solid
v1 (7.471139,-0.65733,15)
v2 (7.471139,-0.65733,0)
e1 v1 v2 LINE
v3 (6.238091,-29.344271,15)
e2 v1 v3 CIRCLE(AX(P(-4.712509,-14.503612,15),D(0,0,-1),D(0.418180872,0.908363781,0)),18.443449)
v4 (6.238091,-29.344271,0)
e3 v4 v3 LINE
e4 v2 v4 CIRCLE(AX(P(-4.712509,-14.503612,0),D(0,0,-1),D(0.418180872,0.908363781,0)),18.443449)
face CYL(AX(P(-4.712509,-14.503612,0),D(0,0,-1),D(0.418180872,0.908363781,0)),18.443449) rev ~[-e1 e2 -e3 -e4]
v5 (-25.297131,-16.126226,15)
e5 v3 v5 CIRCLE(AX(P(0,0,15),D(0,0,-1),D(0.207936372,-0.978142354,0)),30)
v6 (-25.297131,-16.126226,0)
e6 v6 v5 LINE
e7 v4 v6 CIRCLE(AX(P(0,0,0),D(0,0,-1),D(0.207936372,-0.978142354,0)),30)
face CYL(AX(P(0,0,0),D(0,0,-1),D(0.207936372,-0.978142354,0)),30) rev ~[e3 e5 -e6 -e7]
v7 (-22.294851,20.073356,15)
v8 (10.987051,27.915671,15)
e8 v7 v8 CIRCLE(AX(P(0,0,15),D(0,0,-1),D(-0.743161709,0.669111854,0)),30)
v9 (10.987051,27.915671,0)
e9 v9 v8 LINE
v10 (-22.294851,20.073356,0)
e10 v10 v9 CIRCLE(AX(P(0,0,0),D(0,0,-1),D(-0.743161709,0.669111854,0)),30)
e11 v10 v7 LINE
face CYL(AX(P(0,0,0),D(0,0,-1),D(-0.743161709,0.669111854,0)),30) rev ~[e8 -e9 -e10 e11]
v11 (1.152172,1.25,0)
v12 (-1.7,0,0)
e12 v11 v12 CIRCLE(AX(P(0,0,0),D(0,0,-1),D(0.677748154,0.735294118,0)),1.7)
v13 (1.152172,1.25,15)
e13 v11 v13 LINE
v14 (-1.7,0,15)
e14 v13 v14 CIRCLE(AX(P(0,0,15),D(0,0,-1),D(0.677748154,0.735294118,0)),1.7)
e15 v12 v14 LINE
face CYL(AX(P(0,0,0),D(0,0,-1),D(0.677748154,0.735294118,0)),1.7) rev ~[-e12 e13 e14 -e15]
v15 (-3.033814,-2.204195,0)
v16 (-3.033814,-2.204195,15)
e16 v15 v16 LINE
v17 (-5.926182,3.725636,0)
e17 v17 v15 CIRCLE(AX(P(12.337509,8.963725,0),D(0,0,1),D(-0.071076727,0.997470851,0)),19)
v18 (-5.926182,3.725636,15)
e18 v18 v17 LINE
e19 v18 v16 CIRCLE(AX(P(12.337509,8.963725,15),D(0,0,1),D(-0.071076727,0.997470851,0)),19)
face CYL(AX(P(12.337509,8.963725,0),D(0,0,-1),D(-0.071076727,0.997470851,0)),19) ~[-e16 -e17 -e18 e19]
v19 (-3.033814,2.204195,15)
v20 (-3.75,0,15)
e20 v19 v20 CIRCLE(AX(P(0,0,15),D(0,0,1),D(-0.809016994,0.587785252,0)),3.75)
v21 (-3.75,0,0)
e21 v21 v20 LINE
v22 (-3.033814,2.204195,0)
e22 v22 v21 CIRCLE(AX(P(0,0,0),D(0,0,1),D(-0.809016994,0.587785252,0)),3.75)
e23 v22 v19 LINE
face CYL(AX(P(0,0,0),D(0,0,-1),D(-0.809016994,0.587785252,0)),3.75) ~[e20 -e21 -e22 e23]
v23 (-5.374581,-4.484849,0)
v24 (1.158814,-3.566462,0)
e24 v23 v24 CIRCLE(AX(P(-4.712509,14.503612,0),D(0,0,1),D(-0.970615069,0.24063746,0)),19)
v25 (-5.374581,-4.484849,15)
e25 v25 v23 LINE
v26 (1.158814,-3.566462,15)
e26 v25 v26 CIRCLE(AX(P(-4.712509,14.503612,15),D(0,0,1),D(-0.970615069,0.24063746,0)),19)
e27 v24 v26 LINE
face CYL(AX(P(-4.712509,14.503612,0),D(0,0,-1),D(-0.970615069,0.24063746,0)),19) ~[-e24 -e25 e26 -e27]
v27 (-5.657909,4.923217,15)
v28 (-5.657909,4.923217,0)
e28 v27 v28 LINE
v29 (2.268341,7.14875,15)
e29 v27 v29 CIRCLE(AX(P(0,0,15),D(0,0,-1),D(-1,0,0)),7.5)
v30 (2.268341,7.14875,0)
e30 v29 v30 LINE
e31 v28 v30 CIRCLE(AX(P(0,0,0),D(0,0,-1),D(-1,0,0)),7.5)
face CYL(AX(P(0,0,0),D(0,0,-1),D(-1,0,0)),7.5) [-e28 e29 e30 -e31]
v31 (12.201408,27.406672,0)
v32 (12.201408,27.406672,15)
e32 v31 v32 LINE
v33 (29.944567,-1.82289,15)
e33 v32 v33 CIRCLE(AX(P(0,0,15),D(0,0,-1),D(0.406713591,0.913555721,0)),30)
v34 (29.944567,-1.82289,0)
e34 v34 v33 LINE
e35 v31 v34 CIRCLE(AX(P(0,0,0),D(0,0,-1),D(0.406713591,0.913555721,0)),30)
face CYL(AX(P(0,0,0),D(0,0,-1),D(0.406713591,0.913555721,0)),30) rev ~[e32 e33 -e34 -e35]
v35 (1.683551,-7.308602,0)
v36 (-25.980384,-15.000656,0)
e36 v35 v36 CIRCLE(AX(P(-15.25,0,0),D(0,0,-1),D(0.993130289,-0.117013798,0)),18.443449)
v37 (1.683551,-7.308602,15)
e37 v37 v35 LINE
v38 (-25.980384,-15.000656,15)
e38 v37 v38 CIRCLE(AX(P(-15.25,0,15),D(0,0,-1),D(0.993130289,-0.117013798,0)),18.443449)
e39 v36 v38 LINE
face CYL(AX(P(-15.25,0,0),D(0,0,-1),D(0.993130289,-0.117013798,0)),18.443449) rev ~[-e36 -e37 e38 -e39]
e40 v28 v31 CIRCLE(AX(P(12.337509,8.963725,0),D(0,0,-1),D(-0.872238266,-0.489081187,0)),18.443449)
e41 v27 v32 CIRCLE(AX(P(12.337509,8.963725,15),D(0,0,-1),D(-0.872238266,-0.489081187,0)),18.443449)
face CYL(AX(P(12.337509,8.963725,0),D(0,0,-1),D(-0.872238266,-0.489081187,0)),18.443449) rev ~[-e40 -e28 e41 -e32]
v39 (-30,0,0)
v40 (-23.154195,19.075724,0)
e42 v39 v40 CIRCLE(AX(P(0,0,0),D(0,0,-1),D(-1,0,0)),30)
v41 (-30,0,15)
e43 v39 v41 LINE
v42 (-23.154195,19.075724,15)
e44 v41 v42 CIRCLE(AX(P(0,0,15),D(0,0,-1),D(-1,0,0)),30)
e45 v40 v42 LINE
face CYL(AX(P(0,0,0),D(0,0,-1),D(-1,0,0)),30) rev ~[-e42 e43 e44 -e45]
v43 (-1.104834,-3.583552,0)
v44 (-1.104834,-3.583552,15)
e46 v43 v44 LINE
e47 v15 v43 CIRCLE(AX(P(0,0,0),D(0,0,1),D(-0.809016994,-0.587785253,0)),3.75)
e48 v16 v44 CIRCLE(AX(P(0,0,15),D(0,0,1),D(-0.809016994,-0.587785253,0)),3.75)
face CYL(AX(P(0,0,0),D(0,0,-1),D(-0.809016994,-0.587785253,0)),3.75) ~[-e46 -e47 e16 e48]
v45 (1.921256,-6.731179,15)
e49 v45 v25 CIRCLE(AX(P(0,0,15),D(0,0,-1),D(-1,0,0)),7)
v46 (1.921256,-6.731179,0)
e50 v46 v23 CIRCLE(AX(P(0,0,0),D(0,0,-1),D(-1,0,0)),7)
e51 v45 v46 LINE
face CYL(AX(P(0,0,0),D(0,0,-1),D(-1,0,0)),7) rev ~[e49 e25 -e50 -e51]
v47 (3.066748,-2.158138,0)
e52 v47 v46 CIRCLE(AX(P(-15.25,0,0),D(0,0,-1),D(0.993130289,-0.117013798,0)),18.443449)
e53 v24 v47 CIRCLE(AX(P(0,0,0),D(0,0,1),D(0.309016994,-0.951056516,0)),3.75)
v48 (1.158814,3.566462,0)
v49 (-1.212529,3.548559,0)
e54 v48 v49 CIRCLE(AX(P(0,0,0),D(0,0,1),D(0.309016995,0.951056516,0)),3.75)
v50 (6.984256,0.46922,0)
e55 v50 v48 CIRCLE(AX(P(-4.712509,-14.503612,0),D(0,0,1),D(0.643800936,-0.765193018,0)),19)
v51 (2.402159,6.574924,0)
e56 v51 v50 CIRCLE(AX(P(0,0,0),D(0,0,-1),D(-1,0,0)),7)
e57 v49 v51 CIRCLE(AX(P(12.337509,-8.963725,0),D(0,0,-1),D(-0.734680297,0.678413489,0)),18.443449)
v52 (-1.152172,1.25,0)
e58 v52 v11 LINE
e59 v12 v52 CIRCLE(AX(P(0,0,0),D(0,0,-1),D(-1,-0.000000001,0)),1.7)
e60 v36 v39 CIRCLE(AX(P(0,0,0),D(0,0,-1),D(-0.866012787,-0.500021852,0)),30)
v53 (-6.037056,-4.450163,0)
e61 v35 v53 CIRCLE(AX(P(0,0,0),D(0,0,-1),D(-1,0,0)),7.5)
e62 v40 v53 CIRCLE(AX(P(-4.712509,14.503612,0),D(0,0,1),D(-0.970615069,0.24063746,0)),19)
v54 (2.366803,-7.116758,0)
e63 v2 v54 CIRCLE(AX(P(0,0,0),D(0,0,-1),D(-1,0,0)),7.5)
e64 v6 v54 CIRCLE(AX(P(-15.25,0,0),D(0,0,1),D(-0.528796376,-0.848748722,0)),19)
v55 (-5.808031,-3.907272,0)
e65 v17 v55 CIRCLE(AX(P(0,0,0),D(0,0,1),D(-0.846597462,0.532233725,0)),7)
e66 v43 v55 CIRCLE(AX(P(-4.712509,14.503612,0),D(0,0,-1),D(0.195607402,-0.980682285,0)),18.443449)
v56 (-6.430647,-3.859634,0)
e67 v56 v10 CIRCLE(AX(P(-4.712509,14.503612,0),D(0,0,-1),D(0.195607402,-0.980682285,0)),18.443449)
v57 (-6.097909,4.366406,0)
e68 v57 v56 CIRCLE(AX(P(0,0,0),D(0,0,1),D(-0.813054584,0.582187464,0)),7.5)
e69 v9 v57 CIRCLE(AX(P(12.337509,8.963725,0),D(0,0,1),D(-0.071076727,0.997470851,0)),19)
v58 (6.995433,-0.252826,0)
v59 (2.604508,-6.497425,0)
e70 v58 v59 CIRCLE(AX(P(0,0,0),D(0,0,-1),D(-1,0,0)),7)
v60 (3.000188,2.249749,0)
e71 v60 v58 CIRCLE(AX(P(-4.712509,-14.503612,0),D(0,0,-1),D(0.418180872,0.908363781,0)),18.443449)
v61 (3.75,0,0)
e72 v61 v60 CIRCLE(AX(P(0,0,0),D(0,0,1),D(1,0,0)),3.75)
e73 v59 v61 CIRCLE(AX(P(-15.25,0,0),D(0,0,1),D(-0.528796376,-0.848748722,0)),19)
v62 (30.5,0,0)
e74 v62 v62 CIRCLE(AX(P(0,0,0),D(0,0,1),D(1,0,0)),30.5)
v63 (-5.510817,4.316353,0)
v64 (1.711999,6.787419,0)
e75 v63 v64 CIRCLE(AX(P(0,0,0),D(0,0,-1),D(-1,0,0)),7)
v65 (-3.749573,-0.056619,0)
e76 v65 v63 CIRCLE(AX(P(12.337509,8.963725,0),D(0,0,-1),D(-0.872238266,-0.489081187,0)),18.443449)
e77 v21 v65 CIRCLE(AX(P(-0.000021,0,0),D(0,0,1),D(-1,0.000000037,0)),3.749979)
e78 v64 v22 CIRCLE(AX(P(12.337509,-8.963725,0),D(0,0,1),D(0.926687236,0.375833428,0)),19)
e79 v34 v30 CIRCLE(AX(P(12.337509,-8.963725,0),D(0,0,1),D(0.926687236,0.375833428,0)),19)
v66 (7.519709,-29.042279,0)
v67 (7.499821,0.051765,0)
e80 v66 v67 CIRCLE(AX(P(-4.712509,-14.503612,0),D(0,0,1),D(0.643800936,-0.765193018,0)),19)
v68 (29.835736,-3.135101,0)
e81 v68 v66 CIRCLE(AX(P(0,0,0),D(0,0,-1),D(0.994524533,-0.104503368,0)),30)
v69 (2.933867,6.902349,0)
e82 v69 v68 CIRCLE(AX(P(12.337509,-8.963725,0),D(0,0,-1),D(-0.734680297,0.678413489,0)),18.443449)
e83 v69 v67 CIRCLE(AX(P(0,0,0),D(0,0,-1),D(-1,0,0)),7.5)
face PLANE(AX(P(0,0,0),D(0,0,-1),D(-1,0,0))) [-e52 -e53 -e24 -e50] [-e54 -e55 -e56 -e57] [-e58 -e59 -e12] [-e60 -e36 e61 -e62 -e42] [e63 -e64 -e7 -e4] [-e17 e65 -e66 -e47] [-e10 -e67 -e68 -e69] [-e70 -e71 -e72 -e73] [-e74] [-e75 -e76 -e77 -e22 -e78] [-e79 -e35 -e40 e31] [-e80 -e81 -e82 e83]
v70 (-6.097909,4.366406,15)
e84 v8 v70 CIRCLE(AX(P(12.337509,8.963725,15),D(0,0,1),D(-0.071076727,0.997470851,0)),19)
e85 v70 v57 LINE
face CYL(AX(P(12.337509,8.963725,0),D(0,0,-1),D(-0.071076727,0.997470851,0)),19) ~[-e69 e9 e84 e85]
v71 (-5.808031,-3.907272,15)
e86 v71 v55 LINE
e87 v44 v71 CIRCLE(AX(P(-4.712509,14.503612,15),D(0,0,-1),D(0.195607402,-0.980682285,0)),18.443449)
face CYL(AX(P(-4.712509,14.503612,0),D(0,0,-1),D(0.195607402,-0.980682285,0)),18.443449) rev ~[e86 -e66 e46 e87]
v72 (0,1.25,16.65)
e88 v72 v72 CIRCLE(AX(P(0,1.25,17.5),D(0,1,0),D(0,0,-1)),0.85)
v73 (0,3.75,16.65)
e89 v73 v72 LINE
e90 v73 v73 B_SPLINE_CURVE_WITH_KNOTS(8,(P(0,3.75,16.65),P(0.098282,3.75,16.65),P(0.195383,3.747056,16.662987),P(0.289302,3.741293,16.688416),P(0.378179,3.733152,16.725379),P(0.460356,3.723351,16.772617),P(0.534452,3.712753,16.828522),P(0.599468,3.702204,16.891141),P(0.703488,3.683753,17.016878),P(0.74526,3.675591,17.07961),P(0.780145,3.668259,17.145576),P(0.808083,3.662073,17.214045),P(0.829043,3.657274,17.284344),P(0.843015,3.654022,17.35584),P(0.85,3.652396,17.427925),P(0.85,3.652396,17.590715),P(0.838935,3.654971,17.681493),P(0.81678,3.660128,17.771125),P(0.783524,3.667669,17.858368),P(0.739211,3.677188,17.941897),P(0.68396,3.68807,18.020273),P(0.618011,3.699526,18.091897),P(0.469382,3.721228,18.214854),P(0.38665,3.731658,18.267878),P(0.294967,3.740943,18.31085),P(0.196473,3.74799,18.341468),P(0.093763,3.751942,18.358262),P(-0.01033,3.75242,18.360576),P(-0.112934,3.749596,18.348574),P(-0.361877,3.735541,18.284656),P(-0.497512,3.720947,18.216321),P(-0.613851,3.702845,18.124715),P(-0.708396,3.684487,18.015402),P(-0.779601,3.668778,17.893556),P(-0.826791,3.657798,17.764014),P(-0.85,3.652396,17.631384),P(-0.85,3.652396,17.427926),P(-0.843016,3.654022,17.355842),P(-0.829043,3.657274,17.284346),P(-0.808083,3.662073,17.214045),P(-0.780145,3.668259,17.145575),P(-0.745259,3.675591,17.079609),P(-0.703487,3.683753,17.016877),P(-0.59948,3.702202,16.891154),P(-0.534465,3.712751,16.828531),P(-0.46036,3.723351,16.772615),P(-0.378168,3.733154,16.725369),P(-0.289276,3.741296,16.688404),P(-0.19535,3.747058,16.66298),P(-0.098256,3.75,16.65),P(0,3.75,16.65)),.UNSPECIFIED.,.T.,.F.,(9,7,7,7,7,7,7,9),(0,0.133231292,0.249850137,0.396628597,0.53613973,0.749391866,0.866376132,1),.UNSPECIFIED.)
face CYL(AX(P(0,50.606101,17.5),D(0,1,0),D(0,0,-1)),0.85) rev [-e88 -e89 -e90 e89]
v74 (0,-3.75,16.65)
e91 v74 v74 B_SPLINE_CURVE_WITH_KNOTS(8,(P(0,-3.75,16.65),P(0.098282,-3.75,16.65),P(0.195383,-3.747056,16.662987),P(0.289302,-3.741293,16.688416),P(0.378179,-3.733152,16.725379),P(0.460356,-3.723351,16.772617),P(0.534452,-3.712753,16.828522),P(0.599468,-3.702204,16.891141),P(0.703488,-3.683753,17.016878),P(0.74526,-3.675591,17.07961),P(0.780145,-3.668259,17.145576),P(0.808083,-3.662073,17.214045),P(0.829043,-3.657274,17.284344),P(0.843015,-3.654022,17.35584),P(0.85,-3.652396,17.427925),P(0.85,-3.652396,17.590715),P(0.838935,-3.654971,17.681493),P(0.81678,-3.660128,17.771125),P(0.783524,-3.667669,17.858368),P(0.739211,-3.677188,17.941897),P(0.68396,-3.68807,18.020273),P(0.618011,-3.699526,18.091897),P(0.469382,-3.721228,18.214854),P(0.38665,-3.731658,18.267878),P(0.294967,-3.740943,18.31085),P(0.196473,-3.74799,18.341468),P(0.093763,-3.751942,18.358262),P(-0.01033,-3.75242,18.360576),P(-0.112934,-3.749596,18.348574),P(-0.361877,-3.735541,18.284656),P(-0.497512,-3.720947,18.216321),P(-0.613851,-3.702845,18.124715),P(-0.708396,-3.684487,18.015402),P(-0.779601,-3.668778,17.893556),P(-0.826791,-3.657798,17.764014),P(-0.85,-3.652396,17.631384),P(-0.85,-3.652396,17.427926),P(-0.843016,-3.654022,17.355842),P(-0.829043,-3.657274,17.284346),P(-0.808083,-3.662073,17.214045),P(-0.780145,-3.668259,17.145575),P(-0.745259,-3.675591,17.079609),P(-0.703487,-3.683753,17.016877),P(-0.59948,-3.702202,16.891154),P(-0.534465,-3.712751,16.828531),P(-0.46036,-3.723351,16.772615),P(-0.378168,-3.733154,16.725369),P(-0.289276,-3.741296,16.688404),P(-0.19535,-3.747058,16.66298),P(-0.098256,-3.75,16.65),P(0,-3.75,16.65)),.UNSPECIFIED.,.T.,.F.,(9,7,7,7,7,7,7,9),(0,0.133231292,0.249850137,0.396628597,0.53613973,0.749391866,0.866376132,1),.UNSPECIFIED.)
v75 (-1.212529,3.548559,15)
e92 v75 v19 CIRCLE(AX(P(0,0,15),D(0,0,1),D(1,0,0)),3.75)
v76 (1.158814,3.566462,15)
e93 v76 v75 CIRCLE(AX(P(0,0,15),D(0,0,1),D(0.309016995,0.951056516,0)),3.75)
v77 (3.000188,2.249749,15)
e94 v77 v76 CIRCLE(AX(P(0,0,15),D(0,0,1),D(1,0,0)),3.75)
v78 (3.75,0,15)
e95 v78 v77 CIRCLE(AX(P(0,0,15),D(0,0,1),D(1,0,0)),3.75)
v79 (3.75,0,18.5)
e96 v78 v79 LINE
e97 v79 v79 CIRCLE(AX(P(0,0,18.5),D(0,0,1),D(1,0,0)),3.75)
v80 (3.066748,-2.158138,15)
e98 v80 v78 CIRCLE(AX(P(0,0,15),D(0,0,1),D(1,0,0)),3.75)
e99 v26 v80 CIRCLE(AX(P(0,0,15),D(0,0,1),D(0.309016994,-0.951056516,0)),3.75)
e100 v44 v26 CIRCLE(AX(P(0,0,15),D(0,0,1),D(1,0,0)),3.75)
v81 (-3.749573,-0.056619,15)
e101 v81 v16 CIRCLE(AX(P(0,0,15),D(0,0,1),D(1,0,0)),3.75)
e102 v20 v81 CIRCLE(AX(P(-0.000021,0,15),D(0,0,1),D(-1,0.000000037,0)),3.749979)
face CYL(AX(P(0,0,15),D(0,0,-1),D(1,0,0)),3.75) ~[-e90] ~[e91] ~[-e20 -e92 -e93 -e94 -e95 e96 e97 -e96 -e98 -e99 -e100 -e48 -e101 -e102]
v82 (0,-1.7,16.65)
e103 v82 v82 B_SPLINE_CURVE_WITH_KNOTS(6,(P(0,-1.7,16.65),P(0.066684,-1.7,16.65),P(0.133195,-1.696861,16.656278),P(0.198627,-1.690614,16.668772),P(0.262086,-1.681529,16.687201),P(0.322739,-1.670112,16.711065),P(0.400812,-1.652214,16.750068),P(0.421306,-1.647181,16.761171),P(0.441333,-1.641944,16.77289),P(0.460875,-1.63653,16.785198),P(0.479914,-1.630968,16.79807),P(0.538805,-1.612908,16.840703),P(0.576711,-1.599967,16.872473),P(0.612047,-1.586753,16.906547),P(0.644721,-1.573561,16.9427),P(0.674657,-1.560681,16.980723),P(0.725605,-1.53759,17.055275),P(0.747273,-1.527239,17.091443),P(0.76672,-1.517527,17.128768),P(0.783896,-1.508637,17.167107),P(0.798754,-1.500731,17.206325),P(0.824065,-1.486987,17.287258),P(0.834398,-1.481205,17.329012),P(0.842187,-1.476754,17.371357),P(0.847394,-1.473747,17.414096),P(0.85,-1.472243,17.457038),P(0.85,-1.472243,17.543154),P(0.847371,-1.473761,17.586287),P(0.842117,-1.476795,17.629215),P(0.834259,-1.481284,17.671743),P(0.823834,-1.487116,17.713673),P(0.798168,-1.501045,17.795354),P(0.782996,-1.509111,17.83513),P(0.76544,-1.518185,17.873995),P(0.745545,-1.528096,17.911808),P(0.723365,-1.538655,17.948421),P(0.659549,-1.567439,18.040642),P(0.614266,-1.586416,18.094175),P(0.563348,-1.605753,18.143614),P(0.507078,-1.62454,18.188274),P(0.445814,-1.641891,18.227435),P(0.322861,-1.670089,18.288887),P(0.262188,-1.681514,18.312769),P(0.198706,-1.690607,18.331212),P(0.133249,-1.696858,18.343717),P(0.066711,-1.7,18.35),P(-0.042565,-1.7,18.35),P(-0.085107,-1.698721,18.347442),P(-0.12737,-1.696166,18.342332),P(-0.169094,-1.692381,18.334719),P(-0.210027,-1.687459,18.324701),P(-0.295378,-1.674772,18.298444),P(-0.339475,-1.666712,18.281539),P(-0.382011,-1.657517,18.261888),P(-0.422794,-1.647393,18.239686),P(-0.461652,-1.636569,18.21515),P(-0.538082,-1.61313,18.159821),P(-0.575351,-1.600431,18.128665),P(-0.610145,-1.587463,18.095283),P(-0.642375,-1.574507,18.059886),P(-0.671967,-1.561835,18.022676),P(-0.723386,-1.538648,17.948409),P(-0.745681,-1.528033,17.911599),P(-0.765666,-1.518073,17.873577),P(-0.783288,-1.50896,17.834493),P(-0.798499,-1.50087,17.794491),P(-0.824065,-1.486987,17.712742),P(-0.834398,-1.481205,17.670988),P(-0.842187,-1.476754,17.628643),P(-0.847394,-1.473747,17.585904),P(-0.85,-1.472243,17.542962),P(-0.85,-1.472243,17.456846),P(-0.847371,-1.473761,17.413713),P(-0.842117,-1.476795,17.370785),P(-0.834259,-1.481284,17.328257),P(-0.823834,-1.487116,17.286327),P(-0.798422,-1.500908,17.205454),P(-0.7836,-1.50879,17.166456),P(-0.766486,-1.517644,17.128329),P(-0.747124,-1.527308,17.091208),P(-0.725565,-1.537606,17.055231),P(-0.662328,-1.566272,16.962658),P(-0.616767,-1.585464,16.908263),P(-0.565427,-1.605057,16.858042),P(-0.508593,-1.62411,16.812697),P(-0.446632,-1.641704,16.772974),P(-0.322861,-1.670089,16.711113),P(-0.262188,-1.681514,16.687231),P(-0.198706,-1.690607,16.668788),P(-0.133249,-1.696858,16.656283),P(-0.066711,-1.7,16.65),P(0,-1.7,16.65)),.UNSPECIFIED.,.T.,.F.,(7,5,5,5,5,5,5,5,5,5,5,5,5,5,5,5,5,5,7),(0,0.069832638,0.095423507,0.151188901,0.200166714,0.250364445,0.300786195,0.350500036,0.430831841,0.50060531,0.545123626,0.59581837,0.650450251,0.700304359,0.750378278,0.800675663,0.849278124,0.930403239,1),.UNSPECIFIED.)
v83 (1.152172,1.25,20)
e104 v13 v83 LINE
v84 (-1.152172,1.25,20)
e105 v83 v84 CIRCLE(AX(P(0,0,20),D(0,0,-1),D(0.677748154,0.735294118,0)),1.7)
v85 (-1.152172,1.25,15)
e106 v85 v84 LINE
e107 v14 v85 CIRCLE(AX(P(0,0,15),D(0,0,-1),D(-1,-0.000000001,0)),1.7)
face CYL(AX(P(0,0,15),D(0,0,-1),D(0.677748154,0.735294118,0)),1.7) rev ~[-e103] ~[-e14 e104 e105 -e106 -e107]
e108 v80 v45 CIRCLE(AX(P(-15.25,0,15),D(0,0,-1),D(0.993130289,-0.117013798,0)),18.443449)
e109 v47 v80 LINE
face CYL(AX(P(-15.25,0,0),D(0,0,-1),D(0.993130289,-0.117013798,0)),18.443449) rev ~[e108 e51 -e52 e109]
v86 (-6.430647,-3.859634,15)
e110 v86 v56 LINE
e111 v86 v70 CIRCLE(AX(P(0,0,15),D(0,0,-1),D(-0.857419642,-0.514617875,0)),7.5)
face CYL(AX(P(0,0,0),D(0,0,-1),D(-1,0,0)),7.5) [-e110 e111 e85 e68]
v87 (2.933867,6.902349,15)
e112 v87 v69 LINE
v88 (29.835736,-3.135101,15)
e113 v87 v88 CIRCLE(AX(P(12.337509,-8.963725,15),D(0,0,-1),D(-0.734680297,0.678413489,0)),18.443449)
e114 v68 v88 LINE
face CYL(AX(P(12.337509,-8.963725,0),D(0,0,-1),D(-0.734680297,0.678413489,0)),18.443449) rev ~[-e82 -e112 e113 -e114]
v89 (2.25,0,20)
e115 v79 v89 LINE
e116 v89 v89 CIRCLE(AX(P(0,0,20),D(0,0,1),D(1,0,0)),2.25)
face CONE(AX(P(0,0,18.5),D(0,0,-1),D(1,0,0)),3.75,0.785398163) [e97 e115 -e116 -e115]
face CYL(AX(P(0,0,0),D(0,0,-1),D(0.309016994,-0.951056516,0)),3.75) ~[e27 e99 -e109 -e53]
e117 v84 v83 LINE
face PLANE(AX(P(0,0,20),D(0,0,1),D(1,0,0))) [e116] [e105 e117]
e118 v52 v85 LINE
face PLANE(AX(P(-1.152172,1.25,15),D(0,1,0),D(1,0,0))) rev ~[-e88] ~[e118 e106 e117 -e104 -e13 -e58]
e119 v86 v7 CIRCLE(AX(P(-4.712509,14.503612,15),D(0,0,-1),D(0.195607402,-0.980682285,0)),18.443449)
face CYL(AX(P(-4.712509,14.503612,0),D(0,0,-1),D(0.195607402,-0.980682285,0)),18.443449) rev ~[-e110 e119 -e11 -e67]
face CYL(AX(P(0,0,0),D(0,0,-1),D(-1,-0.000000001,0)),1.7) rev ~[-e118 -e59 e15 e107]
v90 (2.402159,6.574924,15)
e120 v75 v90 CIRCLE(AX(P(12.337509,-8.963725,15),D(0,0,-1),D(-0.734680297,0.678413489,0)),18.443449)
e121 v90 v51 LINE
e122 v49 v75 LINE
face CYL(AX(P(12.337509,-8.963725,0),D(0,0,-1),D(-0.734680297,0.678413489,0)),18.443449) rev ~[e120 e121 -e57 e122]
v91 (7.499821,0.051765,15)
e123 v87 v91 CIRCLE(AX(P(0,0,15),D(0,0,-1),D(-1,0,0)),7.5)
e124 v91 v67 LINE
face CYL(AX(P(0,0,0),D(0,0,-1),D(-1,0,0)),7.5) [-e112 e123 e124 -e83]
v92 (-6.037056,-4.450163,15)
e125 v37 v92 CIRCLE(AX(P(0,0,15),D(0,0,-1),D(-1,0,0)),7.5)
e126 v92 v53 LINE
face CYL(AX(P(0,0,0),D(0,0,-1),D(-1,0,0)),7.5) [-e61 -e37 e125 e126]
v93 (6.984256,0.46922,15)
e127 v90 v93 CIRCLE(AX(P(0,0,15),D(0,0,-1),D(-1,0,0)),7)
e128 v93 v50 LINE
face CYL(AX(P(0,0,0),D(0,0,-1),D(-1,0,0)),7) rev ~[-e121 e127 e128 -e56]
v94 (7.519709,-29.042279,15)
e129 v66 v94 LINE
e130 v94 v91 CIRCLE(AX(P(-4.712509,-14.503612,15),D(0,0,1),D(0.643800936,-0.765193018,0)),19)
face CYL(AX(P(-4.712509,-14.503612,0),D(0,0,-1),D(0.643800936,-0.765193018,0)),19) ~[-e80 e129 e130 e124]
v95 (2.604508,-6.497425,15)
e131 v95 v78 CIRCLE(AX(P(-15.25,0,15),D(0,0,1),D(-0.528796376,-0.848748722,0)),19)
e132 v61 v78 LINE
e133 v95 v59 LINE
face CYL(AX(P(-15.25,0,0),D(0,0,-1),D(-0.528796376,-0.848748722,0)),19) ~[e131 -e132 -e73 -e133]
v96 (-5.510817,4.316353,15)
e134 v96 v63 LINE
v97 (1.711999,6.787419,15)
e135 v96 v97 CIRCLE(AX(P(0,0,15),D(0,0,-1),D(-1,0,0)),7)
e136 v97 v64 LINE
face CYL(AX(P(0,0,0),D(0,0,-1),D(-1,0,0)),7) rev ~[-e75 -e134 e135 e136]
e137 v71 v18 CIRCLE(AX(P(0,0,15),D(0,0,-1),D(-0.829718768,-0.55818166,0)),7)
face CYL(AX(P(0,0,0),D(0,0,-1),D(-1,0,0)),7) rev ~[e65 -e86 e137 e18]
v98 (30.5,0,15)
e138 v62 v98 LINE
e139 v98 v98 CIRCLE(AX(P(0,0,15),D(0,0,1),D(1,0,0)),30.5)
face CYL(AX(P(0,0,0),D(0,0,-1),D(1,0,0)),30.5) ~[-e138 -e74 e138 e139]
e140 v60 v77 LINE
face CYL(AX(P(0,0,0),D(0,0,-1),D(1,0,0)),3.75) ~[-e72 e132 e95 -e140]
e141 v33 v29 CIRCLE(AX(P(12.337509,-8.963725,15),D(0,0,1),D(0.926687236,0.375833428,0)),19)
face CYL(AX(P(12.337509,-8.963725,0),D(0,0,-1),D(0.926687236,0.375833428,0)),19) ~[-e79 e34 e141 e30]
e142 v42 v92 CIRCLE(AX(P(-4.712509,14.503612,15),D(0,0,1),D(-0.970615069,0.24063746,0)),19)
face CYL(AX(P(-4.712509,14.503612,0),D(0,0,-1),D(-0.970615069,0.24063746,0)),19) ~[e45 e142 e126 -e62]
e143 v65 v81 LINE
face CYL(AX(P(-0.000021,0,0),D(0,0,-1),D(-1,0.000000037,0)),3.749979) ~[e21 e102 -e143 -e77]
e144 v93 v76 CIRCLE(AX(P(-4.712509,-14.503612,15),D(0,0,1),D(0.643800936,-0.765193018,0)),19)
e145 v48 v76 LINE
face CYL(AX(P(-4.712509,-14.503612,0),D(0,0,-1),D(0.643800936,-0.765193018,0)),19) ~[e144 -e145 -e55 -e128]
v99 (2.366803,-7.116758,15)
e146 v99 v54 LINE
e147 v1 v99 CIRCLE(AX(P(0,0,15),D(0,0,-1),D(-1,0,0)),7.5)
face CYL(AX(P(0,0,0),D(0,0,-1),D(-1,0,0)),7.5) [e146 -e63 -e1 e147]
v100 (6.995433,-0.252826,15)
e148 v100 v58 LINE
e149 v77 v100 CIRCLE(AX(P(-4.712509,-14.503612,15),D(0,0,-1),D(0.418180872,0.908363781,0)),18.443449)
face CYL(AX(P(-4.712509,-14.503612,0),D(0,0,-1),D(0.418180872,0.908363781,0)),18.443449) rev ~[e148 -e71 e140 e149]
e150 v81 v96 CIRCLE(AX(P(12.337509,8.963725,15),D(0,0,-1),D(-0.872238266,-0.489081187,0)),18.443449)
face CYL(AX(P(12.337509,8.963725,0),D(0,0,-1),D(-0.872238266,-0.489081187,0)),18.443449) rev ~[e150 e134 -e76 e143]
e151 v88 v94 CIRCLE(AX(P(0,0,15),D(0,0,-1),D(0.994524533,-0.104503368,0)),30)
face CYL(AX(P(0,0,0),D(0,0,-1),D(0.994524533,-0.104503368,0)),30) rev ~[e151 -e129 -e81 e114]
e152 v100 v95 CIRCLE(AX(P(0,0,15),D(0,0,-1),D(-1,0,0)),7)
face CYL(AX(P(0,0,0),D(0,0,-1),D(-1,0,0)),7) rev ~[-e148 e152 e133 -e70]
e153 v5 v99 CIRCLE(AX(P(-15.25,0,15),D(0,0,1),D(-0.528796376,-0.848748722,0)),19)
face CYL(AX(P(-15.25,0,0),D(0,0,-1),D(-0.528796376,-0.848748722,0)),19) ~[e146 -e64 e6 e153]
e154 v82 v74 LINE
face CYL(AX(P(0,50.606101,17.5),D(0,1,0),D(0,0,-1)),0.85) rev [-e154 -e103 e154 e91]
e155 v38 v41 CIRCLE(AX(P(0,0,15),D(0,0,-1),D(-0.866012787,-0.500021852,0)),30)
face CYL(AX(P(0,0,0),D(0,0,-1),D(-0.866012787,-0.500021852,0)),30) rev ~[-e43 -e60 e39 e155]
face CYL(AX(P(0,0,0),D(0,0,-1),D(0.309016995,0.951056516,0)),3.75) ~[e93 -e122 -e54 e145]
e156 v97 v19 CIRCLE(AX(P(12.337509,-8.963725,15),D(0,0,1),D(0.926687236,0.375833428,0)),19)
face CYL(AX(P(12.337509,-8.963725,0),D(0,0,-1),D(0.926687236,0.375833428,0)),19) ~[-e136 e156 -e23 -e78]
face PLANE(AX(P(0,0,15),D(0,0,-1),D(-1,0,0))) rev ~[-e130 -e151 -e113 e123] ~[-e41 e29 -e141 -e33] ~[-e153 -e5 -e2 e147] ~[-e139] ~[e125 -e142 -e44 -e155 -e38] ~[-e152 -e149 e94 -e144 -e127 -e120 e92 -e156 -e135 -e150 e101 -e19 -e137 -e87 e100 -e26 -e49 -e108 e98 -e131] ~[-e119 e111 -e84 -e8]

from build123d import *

# Parameters (mm, degrees)
SKETCH1_R               = 30.5
BOSS_EXTRUDE1_DEPTH     = 15
SKETCH2_R               = 3.75
BOSS_EXTRUDE2_DEPTH     = 5
CUT_EXTRUDE1_DEPTH      = 49.356100959
CUT_EXTRUDE1_DEPTH_BACK = 49.356100959
SKETCH3_R               = 0.85
CHAMFER1_SIZE           = 1.5
SKETCH4_R               = 7.5
SKETCH4_R_2             = 7
BOSS_EXTRUDE3_DEPTH     = 15


with BuildPart() as part:
    # Sketch1 → Boss-Extrude1 (new body)
    with BuildSketch(Plane.XY):
        Circle(SKETCH1_R)
        with BuildLine():
            ThreePointArc((-25.980383608, -15.000655572), (-28.977676824, -7.764936953), (-30, 0))
            ThreePointArc((-30, 0), (-28.236730197, 10.133462774), (-23.15419548, 19.075723621))
            ThreePointArc((-23.15419548, 19.075723621), (-17.661279409, 0.599319401), (1.158813729, -3.566461936))
            ThreePointArc((1.158813729, -3.566461936), (2.227035272, -3.017086989), (3.06674754, -2.158137977))
            ThreePointArc((3.06674754, -2.158137977), (-7.792065033, -16.868313668), (-25.980383608, -15.000655572))
        make_face(mode=Mode.SUBTRACT)
        with BuildLine():
            ThreePointArc((6.238091175, -29.344270625), (-11.597022419, -27.667834592), (-25.297131148, -16.126225712))
            ThreePointArc((-25.297131148, -16.126225712), (-6.027622102, -16.611674988), (3.75, 0))
            ThreePointArc((3.75, 0), (3.557611987, 1.185705254), (3.000188293, 2.24974892))
            ThreePointArc((3.000188293, 2.24974892), (13.634839116, -12.623289815), (6.238091175, -29.344270625))
        make_face(mode=Mode.SUBTRACT)
        with BuildLine():
            ThreePointArc((29.835735979, -3.135101049), (22.729997369, -19.579254828), (7.519708613, -29.042279221))
            ThreePointArc((7.519708613, -29.042279221), (13.936004079, -10.865899154), (1.158813729, 3.566461936))
            ThreePointArc((1.158813729, 3.566461936), (-0.028310145, 3.749893137), (-1.212529202, 3.548559276))
            ThreePointArc((-1.212529202, 3.548559276), (16.218859038, 9.066691512), (29.835735979, -3.135101049))
        make_face(mode=Mode.SUBTRACT)
        with BuildLine():
            ThreePointArc((1.152171862, 1.25), (0.682388392, -1.557031176), (-1.7, 0))
            ThreePointArc((-1.7, 0), (-1.557031176, 0.682388392), (-1.152171862, 1.25))
            Line((-1.152171862, 1.25), (1.152171862, 1.25))
        make_face(mode=Mode.SUBTRACT)
        with BuildLine():
            ThreePointArc((-1.104834079, -3.583551543), (-18.450600149, 2.198098635), (-22.294851286, 20.073355628))
            ThreePointArc((-22.294851286, 20.073355628), (-6.880556914, 29.200307131), (10.987051359, 27.91567127))
            ThreePointArc((10.987051359, 27.91567127), (-4.887648858, 16.982074748), (-3.033813729, -2.204194696))
            ThreePointArc((-3.033813729, -2.204194696), (-2.181228495, -3.05036756), (-1.104834079, -3.583551543))
        make_face(mode=Mode.SUBTRACT)
        with BuildLine():
            ThreePointArc((-3.033813729, 2.204194696), (-3.566461936, 1.158813729), (-3.75, 0))
            ThreePointArc((-3.75, 0), (-3.749893137, -0.028310145), (-3.749572552, -0.056618677))
            ThreePointArc((-3.749572552, -0.056618677), (-3.611032972, 18.226813335), (12.201407739, 27.406671618))
            ThreePointArc((12.201407739, 27.406671618), (25.644933357, 15.567189634), (29.944566656, -1.822889958))
            ThreePointArc((29.944566656, -1.822889958), (14.64054629, 9.896179992), (-3.033813729, 2.204194696))
        make_face(mode=Mode.SUBTRACT)
    extrude(amount=BOSS_EXTRUDE1_DEPTH)

    # Sketch2 → Boss-Extrude2 (add)
    with BuildSketch(Plane.XY.offset(15)):
        Circle(SKETCH2_R)
        with BuildLine():
            Line((-1.152171862, 1.25), (1.152171862, 1.25))
            ThreePointArc((1.152171862, 1.25), (0, -1.7), (-1.152171862, 1.25))
        make_face(mode=Mode.SUBTRACT)
    extrude(amount=BOSS_EXTRUDE2_DEPTH)

    # Sketch3 → Cut-Extrude1 (cut, two sides: drawn at the far end of the back side and taken through both)
    with BuildSketch(Plane.XZ.offset(-1.25).offset(-CUT_EXTRUDE1_DEPTH_BACK)):
        with Locations(Location((0, 17.5, 0), (0, 0, 270))):
            Circle(SKETCH3_R)
    extrude(amount=CUT_EXTRUDE1_DEPTH + CUT_EXTRUDE1_DEPTH_BACK, mode=Mode.SUBTRACT)

    # Chamfer1
    chamfer1_edges = [part.edges().sort_by_distance(p)[0] for p in [
        (-3.75, 0, 20),
    ]]
    chamfer(chamfer1_edges, length=CHAMFER1_SIZE)

    # Sketch4 → Boss-Extrude3 (add)
    with BuildSketch(Plane(origin=(0, 0, 0), x_dir=(-1, 0, 0), z_dir=(0, 0, -1))):
        Circle(SKETCH4_R)
        Circle(SKETCH4_R_2, mode=Mode.SUBTRACT)
    extrude(amount=-BOSS_EXTRUDE3_DEPTH)


solid = part.part
